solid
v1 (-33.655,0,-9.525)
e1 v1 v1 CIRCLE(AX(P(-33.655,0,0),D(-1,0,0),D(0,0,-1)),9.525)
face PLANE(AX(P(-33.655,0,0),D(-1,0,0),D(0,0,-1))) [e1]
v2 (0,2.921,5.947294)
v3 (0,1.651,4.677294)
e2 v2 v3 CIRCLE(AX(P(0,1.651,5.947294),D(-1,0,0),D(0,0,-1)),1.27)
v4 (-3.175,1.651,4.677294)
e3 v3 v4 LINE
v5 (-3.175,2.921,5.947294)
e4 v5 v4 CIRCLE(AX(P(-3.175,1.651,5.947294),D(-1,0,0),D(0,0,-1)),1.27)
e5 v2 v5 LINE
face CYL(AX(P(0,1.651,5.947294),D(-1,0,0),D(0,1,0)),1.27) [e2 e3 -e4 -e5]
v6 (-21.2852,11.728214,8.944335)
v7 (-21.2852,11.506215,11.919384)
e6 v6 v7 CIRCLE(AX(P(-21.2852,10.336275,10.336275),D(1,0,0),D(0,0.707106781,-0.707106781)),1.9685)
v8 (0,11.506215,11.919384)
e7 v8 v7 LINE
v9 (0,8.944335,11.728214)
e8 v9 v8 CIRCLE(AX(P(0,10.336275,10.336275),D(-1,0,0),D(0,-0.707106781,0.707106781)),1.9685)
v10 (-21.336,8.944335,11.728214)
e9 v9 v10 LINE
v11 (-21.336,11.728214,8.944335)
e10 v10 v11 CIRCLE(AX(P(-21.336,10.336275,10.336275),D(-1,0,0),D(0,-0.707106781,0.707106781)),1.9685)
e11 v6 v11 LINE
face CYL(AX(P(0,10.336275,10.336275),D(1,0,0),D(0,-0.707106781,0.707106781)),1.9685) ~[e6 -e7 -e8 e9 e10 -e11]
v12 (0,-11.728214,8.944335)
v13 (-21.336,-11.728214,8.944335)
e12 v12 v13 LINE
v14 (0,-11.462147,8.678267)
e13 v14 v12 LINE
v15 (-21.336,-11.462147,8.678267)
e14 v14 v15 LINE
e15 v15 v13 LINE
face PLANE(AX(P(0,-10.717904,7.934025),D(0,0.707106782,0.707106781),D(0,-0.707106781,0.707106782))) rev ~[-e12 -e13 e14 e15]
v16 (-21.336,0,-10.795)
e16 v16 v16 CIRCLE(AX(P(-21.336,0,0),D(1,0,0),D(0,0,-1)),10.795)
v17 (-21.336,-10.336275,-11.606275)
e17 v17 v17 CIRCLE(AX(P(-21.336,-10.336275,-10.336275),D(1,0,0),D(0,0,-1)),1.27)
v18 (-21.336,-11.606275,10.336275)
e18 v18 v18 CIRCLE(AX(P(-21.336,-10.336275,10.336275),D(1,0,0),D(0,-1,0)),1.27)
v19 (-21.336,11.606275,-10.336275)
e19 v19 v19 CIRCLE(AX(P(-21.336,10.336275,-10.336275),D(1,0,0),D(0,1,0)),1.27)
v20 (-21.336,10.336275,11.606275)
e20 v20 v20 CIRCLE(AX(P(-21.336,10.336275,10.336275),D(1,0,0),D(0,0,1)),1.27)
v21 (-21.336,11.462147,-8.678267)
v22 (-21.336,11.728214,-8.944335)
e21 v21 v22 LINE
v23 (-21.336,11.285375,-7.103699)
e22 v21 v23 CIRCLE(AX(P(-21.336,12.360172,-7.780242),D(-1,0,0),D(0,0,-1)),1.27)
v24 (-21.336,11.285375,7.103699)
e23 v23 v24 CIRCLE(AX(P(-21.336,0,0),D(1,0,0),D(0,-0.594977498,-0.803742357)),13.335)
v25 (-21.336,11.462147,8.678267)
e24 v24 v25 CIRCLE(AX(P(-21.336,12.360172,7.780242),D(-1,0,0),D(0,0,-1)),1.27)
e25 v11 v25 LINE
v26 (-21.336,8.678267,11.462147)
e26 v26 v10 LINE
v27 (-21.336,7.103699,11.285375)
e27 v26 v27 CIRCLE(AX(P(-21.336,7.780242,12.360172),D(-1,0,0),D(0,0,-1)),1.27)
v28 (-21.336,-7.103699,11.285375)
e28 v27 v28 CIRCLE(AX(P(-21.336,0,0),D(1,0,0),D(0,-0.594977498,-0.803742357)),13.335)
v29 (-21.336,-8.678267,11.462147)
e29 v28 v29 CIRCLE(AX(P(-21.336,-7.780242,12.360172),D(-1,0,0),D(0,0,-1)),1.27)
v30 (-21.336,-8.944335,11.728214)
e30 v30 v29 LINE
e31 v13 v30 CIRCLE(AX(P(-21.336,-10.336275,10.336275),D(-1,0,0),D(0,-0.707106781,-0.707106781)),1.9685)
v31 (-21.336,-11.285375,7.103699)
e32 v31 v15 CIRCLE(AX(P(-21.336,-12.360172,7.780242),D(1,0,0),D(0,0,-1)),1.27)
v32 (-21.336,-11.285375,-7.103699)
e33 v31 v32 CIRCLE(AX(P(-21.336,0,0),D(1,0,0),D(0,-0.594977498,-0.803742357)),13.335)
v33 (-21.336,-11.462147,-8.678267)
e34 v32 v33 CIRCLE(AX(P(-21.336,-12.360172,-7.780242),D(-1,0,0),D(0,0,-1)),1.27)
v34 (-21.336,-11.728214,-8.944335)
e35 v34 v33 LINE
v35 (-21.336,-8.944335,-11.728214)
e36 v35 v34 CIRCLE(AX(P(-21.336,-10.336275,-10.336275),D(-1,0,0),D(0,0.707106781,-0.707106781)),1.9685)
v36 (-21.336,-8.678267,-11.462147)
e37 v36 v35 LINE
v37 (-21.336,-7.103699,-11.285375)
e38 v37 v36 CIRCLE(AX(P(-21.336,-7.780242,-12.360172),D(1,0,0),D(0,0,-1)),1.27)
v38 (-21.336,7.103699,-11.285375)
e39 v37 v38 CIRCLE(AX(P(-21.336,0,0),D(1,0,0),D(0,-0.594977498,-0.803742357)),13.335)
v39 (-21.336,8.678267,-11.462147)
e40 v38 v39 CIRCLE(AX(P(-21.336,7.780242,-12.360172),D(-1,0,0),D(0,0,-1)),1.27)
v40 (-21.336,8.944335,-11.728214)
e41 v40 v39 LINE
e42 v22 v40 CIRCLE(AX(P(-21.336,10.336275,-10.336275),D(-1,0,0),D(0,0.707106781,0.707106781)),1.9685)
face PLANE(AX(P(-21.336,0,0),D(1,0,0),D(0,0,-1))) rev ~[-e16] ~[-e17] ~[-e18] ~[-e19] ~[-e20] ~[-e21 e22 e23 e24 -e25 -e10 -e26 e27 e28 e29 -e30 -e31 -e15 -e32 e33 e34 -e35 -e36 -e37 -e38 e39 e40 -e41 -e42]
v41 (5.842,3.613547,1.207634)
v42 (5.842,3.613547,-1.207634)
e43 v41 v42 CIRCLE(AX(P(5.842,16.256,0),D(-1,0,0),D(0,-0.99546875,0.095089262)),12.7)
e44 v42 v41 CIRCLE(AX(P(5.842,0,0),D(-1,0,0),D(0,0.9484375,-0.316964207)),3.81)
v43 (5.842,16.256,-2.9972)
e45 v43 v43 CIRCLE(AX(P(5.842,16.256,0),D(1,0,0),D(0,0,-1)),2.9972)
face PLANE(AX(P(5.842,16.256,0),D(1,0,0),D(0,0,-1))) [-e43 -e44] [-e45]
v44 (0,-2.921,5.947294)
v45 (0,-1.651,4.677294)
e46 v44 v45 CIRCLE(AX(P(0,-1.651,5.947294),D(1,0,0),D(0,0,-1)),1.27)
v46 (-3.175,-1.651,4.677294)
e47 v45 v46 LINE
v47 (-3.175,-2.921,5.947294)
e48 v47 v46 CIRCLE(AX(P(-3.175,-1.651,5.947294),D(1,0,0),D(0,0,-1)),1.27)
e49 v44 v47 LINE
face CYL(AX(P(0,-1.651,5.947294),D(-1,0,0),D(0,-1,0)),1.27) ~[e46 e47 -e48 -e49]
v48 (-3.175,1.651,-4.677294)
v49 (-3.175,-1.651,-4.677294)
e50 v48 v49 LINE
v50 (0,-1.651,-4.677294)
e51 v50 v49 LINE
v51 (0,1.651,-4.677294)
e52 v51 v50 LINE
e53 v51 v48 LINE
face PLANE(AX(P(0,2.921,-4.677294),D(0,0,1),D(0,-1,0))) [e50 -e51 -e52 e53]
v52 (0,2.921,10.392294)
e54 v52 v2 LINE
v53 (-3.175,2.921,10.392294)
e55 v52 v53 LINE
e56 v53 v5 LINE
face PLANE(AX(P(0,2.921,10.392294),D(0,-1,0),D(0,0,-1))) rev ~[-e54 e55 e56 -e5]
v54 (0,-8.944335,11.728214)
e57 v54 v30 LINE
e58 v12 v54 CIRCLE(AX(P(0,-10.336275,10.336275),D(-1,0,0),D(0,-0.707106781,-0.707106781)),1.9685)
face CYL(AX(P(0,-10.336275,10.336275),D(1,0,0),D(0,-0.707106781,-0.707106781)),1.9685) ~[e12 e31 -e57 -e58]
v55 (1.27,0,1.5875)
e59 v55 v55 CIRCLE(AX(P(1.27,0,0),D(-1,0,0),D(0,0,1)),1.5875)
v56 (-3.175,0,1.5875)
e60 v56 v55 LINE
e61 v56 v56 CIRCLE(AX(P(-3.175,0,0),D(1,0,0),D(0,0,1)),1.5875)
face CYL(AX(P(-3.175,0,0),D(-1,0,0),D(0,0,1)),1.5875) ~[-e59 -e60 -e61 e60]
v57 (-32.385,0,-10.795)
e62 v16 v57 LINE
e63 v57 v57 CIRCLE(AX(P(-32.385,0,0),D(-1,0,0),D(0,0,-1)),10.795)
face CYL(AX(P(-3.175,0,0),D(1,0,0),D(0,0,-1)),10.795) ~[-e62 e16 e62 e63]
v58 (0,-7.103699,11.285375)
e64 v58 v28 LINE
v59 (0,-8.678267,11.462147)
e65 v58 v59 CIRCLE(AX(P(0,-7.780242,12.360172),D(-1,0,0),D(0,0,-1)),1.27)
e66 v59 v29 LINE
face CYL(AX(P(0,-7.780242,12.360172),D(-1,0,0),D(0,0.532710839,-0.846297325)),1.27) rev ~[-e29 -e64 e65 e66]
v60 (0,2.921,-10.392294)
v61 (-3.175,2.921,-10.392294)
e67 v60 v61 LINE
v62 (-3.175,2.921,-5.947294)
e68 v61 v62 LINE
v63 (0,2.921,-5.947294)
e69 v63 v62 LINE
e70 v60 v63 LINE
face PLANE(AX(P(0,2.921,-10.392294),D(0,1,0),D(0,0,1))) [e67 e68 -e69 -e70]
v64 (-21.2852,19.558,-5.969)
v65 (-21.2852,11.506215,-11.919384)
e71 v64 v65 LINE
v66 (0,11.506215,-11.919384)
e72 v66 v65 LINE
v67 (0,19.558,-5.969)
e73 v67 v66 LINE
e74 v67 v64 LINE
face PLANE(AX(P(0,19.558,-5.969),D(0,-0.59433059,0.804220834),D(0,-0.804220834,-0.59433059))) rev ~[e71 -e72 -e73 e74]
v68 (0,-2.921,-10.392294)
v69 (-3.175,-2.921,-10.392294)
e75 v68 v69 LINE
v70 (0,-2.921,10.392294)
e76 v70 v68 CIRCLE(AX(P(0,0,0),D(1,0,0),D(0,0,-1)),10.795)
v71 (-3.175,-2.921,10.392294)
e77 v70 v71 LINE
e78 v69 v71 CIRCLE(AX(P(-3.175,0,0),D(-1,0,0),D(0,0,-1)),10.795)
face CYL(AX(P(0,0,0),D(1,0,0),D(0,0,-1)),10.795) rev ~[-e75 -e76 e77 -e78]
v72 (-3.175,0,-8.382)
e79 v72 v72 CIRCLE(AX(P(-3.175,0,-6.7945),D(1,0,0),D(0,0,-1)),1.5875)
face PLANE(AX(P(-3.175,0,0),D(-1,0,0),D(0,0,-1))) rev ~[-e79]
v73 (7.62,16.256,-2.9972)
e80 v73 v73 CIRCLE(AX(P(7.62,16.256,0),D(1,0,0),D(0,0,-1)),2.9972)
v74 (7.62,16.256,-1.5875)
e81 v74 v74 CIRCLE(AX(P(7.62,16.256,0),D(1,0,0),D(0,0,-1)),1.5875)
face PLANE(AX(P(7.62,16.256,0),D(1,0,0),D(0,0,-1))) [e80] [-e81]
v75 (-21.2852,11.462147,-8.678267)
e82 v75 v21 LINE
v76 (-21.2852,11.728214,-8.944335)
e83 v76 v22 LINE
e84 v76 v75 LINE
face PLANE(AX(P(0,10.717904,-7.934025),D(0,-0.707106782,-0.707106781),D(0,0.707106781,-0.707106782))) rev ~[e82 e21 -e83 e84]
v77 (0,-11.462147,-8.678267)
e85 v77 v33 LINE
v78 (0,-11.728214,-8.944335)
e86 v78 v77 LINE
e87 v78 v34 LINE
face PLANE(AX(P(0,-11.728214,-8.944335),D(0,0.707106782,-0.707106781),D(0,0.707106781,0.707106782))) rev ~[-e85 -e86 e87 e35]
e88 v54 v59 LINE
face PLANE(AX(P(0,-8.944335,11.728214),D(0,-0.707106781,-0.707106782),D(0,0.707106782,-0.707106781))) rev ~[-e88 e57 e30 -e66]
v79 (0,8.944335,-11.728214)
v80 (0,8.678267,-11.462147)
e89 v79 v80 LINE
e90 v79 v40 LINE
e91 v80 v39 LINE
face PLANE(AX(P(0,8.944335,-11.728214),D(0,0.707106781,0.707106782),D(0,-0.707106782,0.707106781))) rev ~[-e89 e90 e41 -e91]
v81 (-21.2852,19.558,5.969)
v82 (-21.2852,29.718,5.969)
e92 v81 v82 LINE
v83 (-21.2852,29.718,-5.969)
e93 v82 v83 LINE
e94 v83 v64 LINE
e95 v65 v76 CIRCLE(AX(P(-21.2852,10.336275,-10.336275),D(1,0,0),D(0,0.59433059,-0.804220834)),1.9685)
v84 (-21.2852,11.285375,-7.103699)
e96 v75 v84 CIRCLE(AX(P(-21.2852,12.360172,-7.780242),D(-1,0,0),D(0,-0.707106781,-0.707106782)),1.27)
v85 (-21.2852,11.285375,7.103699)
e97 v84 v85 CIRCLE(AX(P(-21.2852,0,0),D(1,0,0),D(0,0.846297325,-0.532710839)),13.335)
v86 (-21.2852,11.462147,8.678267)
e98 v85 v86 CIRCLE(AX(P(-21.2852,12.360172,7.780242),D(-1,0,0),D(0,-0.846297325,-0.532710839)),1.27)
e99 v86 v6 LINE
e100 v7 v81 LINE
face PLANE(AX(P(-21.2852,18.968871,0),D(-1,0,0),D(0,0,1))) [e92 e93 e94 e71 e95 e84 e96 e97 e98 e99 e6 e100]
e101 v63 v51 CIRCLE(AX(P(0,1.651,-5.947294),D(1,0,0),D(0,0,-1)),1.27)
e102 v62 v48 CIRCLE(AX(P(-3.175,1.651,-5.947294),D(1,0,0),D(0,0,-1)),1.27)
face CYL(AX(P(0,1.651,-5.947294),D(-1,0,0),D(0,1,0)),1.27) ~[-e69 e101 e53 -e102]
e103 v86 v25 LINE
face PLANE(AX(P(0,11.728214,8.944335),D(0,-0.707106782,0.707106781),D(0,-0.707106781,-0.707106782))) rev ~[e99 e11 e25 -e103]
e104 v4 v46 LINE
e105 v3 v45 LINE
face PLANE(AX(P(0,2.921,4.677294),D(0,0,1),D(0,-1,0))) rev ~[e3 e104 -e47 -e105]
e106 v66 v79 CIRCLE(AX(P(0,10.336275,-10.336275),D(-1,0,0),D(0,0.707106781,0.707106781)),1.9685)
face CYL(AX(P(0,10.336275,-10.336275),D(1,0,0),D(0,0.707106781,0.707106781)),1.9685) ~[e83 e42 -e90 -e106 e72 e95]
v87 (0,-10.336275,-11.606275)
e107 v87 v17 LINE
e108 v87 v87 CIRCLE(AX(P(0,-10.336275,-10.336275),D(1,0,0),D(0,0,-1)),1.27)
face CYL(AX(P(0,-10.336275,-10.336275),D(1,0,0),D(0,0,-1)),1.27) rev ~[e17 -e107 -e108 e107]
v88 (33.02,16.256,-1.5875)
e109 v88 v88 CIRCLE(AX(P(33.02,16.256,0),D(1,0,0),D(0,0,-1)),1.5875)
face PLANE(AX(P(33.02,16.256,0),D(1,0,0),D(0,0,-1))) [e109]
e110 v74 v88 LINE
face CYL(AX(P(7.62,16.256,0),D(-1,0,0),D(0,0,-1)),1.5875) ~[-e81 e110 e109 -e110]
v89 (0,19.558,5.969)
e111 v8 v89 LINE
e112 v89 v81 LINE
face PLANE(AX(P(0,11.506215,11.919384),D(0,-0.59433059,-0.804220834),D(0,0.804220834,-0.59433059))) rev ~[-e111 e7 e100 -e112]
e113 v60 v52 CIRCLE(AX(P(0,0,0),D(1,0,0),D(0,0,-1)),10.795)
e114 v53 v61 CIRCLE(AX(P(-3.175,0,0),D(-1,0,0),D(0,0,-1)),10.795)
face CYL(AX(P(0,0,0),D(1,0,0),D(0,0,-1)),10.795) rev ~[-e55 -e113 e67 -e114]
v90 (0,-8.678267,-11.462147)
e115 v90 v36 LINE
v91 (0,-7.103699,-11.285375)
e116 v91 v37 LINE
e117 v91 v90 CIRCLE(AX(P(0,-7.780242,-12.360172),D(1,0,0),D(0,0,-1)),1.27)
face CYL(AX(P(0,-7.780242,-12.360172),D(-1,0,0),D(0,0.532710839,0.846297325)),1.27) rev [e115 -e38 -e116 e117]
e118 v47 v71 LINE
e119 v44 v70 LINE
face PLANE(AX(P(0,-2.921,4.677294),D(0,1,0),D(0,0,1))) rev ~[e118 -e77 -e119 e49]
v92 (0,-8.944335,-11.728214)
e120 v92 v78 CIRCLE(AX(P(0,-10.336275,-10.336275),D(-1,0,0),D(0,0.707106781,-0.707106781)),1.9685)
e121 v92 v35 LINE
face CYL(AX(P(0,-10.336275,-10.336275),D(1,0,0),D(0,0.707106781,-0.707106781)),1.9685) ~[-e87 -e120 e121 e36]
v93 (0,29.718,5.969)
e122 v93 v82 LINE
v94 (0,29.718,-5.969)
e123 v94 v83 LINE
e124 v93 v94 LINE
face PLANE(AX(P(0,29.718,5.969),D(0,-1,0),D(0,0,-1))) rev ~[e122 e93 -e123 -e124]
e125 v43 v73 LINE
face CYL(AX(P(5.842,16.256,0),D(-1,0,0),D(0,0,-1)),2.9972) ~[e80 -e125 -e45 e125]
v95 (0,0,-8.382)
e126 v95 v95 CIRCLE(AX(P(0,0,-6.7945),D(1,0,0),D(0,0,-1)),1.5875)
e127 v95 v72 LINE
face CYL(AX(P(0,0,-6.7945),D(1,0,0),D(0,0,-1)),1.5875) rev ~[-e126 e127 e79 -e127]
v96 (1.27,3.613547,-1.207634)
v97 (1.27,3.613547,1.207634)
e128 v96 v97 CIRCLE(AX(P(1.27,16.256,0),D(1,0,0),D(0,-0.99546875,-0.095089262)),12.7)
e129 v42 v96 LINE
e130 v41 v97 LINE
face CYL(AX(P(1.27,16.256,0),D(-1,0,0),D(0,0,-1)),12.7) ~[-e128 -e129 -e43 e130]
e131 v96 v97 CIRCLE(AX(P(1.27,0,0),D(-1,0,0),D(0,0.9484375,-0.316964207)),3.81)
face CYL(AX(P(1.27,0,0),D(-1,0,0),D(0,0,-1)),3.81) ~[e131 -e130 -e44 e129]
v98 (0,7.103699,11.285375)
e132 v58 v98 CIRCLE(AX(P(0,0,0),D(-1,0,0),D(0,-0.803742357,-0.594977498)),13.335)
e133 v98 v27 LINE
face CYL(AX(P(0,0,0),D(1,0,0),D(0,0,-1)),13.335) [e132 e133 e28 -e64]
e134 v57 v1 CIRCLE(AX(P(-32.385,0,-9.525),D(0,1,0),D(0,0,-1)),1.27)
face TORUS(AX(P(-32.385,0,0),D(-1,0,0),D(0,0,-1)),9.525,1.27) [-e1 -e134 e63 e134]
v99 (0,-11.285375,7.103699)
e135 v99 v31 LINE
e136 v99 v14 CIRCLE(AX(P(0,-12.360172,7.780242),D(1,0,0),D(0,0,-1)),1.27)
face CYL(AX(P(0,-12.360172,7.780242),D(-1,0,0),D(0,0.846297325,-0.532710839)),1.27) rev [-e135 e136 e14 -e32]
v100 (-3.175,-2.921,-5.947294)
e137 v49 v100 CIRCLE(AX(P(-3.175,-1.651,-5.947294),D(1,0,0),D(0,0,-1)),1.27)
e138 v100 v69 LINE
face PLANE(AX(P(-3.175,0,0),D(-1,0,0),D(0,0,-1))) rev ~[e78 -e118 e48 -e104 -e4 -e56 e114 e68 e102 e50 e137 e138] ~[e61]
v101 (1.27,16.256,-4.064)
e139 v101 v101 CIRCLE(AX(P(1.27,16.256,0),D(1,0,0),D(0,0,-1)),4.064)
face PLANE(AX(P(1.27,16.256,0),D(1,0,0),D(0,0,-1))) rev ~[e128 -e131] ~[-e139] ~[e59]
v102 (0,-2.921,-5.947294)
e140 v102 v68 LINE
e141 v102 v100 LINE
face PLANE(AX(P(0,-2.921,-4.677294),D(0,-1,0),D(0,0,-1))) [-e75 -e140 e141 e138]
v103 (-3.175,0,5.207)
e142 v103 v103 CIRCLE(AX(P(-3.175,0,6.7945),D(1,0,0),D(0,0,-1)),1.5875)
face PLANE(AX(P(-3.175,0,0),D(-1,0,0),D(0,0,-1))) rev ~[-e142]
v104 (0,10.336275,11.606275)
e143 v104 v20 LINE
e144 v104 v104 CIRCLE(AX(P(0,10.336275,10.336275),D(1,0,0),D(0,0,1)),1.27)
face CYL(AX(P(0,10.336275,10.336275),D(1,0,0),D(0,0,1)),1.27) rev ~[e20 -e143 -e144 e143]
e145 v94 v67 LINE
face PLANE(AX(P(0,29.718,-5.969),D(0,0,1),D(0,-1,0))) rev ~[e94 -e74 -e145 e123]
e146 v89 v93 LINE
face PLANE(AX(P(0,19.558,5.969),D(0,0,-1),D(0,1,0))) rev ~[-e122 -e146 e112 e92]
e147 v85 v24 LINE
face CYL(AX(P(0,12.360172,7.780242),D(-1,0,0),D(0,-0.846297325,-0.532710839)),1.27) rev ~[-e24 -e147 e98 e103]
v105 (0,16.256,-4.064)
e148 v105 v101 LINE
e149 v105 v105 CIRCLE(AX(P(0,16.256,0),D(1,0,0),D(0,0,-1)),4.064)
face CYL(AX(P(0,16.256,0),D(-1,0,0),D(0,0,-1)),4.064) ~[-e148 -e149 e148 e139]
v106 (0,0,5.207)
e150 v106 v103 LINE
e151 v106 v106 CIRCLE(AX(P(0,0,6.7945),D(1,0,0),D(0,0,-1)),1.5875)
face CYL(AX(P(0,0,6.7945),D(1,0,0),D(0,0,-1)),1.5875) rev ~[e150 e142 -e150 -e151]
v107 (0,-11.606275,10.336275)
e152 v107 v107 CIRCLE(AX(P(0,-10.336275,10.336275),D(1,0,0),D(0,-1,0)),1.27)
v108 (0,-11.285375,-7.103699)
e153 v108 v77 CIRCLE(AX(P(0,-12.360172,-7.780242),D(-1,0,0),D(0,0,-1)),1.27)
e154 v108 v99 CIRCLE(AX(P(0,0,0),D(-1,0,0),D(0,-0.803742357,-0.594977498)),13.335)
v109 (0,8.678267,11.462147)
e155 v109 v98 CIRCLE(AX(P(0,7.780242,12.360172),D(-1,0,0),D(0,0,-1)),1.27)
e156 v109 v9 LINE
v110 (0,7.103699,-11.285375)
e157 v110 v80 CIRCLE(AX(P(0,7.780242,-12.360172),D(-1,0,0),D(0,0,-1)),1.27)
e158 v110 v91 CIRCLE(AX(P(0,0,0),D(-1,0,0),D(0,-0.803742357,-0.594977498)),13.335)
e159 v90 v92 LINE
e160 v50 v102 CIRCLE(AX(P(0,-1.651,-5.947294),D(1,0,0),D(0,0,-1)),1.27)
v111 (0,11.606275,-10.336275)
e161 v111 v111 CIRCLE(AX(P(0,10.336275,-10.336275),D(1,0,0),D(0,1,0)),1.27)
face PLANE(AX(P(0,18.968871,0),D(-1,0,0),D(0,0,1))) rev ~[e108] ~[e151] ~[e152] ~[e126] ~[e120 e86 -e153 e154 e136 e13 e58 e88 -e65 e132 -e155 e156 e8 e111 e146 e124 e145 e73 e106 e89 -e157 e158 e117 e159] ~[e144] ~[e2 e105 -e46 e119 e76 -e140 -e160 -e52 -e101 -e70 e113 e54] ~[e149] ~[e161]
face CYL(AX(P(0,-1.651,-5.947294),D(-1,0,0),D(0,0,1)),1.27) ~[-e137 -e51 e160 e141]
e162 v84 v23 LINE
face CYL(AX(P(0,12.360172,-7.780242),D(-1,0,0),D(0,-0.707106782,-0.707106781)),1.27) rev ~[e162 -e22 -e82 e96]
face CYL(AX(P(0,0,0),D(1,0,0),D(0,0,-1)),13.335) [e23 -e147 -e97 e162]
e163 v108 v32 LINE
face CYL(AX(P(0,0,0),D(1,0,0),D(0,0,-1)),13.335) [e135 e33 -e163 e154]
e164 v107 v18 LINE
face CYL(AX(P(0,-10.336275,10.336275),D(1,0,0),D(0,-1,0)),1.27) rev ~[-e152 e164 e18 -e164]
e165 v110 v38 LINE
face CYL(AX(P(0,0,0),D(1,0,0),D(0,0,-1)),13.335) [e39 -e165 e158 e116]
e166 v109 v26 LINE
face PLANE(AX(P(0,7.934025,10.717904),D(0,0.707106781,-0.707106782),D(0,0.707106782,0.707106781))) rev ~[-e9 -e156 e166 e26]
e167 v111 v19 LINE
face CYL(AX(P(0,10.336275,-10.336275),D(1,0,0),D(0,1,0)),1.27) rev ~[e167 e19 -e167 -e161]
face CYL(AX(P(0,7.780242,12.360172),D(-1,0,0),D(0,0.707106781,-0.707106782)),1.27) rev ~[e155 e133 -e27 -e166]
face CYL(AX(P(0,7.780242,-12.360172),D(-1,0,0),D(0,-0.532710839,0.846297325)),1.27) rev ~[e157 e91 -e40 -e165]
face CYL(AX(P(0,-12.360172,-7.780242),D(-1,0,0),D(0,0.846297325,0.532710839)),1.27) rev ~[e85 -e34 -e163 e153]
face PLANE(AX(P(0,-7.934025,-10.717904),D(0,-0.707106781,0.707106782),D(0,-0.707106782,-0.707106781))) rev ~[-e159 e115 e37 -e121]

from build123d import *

# Parameters (mm, degrees)
SKETCH1_R                = 13.335
SKETCH1_R_2              = 10.795
BOSS_EXTRUDE1_DEPTH      = 21.336
SKETCH2_R                = 1.27
BOSS_EXTRUDE2_DEPTH      = 21.336
FILLET1_R                = 1.27
CIRPATTERN1_COUNT        = 4
FILLET1_OF_CIRPATTERN1_R = 1.27
SKETCH3_R                = 1.5875
BOSS_EXTRUDE3_DEPTH      = 3.175
FILLET2_R                = 1.27
SKETCH4_R                = 10.795
BOSS_EXTRUDE4_DEPTH      = 30.48
FILLET3_R                = 1.27
BOSS_EXTRUDE5_DEPTH      = 21.2852
SKETCH6_R                = 1.5875
BOSS_EXTRUDE6_DEPTH      = 6.985
SKETCH7_R                = 4.064
BOSS_EXTRUDE7_DEPTH      = 1.27
SKETCH8_R                = 12.7
SKETCH8_R_2              = 4.064
SKETCH8_R_3              = 3.81
BOSS_EXTRUDE10_DEPTH     = 4.572
SKETCH9_R                = 2.9972
BOSS_EXTRUDE12_DEPTH     = 1.778
SKETCH10_R               = 1.5875
BOSS_EXTRUDE13_DEPTH     = 25.4


with BuildPart() as part:
    # Sketch1 → Boss-Extrude1 (new body)
    with BuildSketch(Plane(origin=(0, 0, 0), x_dir=(0, 0, -1), z_dir=(1, 0, 0))):
        Circle(SKETCH1_R)
        Circle(SKETCH1_R_2, mode=Mode.SUBTRACT)
    extrude(amount=-BOSS_EXTRUDE1_DEPTH)

    # Sketch2 → Boss-Extrude2 (add)
    with BuildSketch(Plane(origin=(0, 0, 0), x_dir=(0, 0, -1), z_dir=(1, 0, 0))):
        with BuildLine():
            Line((8.944335097, -11.728214494), (7.934024936, -10.717904334))
            ThreePointArc((7.934024936, -10.717904334), (9.429268927, -9.429268927), (10.717904334, -7.934024936))
            Line((10.717904334, -7.934024936), (11.728214494, -8.944335097))
            ThreePointArc((11.728214494, -8.944335097), (11.728214494, -11.728214494), (8.944335097, -11.728214494))
        make_face()
        with Locations((10.336274795, -10.336274795)):
            Circle(SKETCH2_R, mode=Mode.SUBTRACT)
    boss_extrude2 = extrude(amount=-BOSS_EXTRUDE2_DEPTH)

    # Fillet1
    fillet1_edges = [part.edges().sort_by_distance(p)[0] for p in [
        (-10.668, -10.717904334, -7.934024936),
        (-10.668, -7.934024936, -10.717904334),
    ]]
    fillet(fillet1_edges, radius=FILLET1_R)

    # CirPattern1: Boss-Extrude2 ×4 about axis
    cirpattern1_axis = Axis((0, 0, 0), (1, 0, 0))
    for i in range(1, CIRPATTERN1_COUNT):
        add(boss_extrude2.rotate(cirpattern1_axis, i * 360 / CIRPATTERN1_COUNT))

    # Fillet1 of CirPattern1
    fillet1_of_cirpattern1_edges = [part.edges().sort_by_distance(p)[0] for p in [
        (-10.668, 7.934024936, -10.717904334),
        (-10.668, 10.717904334, -7.934024936),
        (-10.668, 10.717904334, 7.934024936),
        (-10.668, 7.934024936, 10.717904334),
        (-10.668, -7.934024936, 10.717904334),
        (-10.668, -10.717904334, 7.934024936),
    ]]
    fillet(fillet1_of_cirpattern1_edges, radius=FILLET1_OF_CIRPATTERN1_R)

    # Sketch3 → Boss-Extrude3 (add)
    # profile 1 of 2: a face of its own
    with BuildSketch(Plane(origin=(0, 0, 0), x_dir=(0, 0, -1), z_dir=(1, 0, 0))):
        with BuildLine():
            Line((-10.392294453, 2.921), (-4.677294453, 2.921))
            Line((-4.677294453, 2.921), (-4.677294453, -2.921))
            Line((-4.677294453, -2.921), (-10.392294453, -2.921))
            ThreePointArc((-10.392294453, -2.921), (-10.795, 0), (-10.392294453, 2.921))
        make_face()
        with Locations((-6.7945, 0)):
            Circle(SKETCH3_R, mode=Mode.SUBTRACT)
    # profile 2 of 2: a face of its own
    with BuildSketch(Plane(origin=(0, 0, 0), x_dir=(0, 0, -1), z_dir=(1, 0, 0))):
        with BuildLine():
            Line((10.392294453, 2.921), (4.677294453, 2.921))
            Line((4.677294453, 2.921), (4.677294453, -2.921))
            Line((4.677294453, -2.921), (10.392294453, -2.921))
            ThreePointArc((10.392294453, -2.921), (10.795, 0), (10.392294453, 2.921))
        make_face()
        with Locations((6.7945, 0)):
            Circle(SKETCH3_R, mode=Mode.SUBTRACT)
    extrude(amount=-BOSS_EXTRUDE3_DEPTH)

    # Fillet2
    fillet2_edges = [part.edges().sort_by_distance(p)[0] for p in [
        (-1.5875, -2.921, -4.677294453),
        (-1.5875, 2.921, -4.677294453),
        (-1.5875, 2.921, 4.677294453),
        (-1.5875, -2.921, 4.677294453),
    ]]
    fillet(fillet2_edges, radius=FILLET2_R)

    # Sketch4 → Boss-Extrude4 (add)
    with BuildSketch(Plane.ZY.offset(3.175)):
        with Locations(Location((0, 0, 0), (0, 0, 180))):
            Circle(SKETCH4_R)
    extrude(amount=BOSS_EXTRUDE4_DEPTH)

    # Fillet3
    fillet3_edges = [part.edges().sort_by_distance(p)[0] for p in [
        (-33.655, 0, 10.795),
    ]]
    fillet(fillet3_edges, radius=FILLET3_R)

    # Sketch5 → Boss-Extrude5 (add)
    with BuildSketch(Plane(origin=(0, 0, 0), x_dir=(0, 0, -1), z_dir=(1, 0, 0))):
        with BuildLine():
            Line((-11.919383507, 11.506214561), (-5.969, 19.558))
            Line((-5.969, 19.558), (-5.969, 29.718))
            Line((-5.969, 29.718), (5.969, 29.718))
            Line((5.969, 29.718), (5.969, 19.558))
            Line((5.969, 19.558), (11.919383507, 11.506214561))
            ThreePointArc((11.919383507, 11.506214561), (10.482758209, 12.299317041), (8.944335097, 11.728214494))
            Line((8.944335097, 11.728214494), (8.678267418, 11.462146816))
            ThreePointArc((8.678267418, 11.462146816), (7.921930715, 11.098101014), (7.10369904, 11.285374825))
            ThreePointArc((7.10369904, 11.285374825), (0, 13.335), (-7.10369904, 11.285374825))
            ThreePointArc((-7.10369904, 11.285374825), (-7.921930715, 11.098101014), (-8.678267418, 11.462146816))
            Line((-8.678267418, 11.462146816), (-8.944335097, 11.728214494))
            ThreePointArc((-8.944335097, 11.728214494), (-10.482758209, 12.299317041), (-11.919383507, 11.506214561))
        make_face()
    extrude(amount=-BOSS_EXTRUDE5_DEPTH)

    # Sketch6 → Boss-Extrude6 (add)
    with BuildSketch(Plane(origin=(-3.175, 0, 0), x_dir=(0, 0, -1), z_dir=(1, 0, 0))):
        with Locations(Location((0, 0, 0), (0, 0, 180))):
            Circle(SKETCH6_R)
    extrude(amount=BOSS_EXTRUDE6_DEPTH)

    # Sketch7 → Boss-Extrude7 (add)
    with BuildSketch(Plane(origin=(0, 0, 0), x_dir=(0, 0, -1), z_dir=(1, 0, 0))):
        with Locations((0, 16.256)):
            Circle(SKETCH7_R)
    extrude(amount=BOSS_EXTRUDE7_DEPTH)

    # Sketch8 → Boss-Extrude10 (add)
    # profile 1 of 3: a face of its own
    with BuildSketch(Plane(origin=(1.27, 0, 0), x_dir=(0, 0, -1), z_dir=(1, 0, 0))):
        with Locations((0, 16.256)):
            Circle(SKETCH8_R)
        with Locations((0, 16.256)):
            Circle(SKETCH8_R_2, mode=Mode.SUBTRACT)
    # profile 2 of 3: a face of its own
    with BuildSketch(Plane(origin=(1.27, 0, 0), x_dir=(0, 0, -1), z_dir=(1, 0, 0))):
        with Locations((0, 16.256)):
            Circle(SKETCH8_R_2)
    # profile 3 of 3: a face of its own
    with BuildSketch(Plane(origin=(1.27, 0, 0), x_dir=(0, 0, -1), z_dir=(1, 0, 0))):
        Circle(SKETCH8_R_3)
    extrude(amount=BOSS_EXTRUDE10_DEPTH)

    # Sketch9 → Boss-Extrude12 (add)
    with BuildSketch(Plane(origin=(5.842, 0, 0), x_dir=(0, 0, -1), z_dir=(1, 0, 0))):
        with Locations((0, 16.256)):
            Circle(SKETCH9_R)
    extrude(amount=BOSS_EXTRUDE12_DEPTH)

    # Sketch10 → Boss-Extrude13 (add)
    with BuildSketch(Plane(origin=(7.62, 0, 0), x_dir=(0, 0, -1), z_dir=(1, 0, 0))):
        with Locations((0, 16.256)):
            Circle(SKETCH10_R)
    extrude(amount=BOSS_EXTRUDE13_DEPTH)


solid = part.part
